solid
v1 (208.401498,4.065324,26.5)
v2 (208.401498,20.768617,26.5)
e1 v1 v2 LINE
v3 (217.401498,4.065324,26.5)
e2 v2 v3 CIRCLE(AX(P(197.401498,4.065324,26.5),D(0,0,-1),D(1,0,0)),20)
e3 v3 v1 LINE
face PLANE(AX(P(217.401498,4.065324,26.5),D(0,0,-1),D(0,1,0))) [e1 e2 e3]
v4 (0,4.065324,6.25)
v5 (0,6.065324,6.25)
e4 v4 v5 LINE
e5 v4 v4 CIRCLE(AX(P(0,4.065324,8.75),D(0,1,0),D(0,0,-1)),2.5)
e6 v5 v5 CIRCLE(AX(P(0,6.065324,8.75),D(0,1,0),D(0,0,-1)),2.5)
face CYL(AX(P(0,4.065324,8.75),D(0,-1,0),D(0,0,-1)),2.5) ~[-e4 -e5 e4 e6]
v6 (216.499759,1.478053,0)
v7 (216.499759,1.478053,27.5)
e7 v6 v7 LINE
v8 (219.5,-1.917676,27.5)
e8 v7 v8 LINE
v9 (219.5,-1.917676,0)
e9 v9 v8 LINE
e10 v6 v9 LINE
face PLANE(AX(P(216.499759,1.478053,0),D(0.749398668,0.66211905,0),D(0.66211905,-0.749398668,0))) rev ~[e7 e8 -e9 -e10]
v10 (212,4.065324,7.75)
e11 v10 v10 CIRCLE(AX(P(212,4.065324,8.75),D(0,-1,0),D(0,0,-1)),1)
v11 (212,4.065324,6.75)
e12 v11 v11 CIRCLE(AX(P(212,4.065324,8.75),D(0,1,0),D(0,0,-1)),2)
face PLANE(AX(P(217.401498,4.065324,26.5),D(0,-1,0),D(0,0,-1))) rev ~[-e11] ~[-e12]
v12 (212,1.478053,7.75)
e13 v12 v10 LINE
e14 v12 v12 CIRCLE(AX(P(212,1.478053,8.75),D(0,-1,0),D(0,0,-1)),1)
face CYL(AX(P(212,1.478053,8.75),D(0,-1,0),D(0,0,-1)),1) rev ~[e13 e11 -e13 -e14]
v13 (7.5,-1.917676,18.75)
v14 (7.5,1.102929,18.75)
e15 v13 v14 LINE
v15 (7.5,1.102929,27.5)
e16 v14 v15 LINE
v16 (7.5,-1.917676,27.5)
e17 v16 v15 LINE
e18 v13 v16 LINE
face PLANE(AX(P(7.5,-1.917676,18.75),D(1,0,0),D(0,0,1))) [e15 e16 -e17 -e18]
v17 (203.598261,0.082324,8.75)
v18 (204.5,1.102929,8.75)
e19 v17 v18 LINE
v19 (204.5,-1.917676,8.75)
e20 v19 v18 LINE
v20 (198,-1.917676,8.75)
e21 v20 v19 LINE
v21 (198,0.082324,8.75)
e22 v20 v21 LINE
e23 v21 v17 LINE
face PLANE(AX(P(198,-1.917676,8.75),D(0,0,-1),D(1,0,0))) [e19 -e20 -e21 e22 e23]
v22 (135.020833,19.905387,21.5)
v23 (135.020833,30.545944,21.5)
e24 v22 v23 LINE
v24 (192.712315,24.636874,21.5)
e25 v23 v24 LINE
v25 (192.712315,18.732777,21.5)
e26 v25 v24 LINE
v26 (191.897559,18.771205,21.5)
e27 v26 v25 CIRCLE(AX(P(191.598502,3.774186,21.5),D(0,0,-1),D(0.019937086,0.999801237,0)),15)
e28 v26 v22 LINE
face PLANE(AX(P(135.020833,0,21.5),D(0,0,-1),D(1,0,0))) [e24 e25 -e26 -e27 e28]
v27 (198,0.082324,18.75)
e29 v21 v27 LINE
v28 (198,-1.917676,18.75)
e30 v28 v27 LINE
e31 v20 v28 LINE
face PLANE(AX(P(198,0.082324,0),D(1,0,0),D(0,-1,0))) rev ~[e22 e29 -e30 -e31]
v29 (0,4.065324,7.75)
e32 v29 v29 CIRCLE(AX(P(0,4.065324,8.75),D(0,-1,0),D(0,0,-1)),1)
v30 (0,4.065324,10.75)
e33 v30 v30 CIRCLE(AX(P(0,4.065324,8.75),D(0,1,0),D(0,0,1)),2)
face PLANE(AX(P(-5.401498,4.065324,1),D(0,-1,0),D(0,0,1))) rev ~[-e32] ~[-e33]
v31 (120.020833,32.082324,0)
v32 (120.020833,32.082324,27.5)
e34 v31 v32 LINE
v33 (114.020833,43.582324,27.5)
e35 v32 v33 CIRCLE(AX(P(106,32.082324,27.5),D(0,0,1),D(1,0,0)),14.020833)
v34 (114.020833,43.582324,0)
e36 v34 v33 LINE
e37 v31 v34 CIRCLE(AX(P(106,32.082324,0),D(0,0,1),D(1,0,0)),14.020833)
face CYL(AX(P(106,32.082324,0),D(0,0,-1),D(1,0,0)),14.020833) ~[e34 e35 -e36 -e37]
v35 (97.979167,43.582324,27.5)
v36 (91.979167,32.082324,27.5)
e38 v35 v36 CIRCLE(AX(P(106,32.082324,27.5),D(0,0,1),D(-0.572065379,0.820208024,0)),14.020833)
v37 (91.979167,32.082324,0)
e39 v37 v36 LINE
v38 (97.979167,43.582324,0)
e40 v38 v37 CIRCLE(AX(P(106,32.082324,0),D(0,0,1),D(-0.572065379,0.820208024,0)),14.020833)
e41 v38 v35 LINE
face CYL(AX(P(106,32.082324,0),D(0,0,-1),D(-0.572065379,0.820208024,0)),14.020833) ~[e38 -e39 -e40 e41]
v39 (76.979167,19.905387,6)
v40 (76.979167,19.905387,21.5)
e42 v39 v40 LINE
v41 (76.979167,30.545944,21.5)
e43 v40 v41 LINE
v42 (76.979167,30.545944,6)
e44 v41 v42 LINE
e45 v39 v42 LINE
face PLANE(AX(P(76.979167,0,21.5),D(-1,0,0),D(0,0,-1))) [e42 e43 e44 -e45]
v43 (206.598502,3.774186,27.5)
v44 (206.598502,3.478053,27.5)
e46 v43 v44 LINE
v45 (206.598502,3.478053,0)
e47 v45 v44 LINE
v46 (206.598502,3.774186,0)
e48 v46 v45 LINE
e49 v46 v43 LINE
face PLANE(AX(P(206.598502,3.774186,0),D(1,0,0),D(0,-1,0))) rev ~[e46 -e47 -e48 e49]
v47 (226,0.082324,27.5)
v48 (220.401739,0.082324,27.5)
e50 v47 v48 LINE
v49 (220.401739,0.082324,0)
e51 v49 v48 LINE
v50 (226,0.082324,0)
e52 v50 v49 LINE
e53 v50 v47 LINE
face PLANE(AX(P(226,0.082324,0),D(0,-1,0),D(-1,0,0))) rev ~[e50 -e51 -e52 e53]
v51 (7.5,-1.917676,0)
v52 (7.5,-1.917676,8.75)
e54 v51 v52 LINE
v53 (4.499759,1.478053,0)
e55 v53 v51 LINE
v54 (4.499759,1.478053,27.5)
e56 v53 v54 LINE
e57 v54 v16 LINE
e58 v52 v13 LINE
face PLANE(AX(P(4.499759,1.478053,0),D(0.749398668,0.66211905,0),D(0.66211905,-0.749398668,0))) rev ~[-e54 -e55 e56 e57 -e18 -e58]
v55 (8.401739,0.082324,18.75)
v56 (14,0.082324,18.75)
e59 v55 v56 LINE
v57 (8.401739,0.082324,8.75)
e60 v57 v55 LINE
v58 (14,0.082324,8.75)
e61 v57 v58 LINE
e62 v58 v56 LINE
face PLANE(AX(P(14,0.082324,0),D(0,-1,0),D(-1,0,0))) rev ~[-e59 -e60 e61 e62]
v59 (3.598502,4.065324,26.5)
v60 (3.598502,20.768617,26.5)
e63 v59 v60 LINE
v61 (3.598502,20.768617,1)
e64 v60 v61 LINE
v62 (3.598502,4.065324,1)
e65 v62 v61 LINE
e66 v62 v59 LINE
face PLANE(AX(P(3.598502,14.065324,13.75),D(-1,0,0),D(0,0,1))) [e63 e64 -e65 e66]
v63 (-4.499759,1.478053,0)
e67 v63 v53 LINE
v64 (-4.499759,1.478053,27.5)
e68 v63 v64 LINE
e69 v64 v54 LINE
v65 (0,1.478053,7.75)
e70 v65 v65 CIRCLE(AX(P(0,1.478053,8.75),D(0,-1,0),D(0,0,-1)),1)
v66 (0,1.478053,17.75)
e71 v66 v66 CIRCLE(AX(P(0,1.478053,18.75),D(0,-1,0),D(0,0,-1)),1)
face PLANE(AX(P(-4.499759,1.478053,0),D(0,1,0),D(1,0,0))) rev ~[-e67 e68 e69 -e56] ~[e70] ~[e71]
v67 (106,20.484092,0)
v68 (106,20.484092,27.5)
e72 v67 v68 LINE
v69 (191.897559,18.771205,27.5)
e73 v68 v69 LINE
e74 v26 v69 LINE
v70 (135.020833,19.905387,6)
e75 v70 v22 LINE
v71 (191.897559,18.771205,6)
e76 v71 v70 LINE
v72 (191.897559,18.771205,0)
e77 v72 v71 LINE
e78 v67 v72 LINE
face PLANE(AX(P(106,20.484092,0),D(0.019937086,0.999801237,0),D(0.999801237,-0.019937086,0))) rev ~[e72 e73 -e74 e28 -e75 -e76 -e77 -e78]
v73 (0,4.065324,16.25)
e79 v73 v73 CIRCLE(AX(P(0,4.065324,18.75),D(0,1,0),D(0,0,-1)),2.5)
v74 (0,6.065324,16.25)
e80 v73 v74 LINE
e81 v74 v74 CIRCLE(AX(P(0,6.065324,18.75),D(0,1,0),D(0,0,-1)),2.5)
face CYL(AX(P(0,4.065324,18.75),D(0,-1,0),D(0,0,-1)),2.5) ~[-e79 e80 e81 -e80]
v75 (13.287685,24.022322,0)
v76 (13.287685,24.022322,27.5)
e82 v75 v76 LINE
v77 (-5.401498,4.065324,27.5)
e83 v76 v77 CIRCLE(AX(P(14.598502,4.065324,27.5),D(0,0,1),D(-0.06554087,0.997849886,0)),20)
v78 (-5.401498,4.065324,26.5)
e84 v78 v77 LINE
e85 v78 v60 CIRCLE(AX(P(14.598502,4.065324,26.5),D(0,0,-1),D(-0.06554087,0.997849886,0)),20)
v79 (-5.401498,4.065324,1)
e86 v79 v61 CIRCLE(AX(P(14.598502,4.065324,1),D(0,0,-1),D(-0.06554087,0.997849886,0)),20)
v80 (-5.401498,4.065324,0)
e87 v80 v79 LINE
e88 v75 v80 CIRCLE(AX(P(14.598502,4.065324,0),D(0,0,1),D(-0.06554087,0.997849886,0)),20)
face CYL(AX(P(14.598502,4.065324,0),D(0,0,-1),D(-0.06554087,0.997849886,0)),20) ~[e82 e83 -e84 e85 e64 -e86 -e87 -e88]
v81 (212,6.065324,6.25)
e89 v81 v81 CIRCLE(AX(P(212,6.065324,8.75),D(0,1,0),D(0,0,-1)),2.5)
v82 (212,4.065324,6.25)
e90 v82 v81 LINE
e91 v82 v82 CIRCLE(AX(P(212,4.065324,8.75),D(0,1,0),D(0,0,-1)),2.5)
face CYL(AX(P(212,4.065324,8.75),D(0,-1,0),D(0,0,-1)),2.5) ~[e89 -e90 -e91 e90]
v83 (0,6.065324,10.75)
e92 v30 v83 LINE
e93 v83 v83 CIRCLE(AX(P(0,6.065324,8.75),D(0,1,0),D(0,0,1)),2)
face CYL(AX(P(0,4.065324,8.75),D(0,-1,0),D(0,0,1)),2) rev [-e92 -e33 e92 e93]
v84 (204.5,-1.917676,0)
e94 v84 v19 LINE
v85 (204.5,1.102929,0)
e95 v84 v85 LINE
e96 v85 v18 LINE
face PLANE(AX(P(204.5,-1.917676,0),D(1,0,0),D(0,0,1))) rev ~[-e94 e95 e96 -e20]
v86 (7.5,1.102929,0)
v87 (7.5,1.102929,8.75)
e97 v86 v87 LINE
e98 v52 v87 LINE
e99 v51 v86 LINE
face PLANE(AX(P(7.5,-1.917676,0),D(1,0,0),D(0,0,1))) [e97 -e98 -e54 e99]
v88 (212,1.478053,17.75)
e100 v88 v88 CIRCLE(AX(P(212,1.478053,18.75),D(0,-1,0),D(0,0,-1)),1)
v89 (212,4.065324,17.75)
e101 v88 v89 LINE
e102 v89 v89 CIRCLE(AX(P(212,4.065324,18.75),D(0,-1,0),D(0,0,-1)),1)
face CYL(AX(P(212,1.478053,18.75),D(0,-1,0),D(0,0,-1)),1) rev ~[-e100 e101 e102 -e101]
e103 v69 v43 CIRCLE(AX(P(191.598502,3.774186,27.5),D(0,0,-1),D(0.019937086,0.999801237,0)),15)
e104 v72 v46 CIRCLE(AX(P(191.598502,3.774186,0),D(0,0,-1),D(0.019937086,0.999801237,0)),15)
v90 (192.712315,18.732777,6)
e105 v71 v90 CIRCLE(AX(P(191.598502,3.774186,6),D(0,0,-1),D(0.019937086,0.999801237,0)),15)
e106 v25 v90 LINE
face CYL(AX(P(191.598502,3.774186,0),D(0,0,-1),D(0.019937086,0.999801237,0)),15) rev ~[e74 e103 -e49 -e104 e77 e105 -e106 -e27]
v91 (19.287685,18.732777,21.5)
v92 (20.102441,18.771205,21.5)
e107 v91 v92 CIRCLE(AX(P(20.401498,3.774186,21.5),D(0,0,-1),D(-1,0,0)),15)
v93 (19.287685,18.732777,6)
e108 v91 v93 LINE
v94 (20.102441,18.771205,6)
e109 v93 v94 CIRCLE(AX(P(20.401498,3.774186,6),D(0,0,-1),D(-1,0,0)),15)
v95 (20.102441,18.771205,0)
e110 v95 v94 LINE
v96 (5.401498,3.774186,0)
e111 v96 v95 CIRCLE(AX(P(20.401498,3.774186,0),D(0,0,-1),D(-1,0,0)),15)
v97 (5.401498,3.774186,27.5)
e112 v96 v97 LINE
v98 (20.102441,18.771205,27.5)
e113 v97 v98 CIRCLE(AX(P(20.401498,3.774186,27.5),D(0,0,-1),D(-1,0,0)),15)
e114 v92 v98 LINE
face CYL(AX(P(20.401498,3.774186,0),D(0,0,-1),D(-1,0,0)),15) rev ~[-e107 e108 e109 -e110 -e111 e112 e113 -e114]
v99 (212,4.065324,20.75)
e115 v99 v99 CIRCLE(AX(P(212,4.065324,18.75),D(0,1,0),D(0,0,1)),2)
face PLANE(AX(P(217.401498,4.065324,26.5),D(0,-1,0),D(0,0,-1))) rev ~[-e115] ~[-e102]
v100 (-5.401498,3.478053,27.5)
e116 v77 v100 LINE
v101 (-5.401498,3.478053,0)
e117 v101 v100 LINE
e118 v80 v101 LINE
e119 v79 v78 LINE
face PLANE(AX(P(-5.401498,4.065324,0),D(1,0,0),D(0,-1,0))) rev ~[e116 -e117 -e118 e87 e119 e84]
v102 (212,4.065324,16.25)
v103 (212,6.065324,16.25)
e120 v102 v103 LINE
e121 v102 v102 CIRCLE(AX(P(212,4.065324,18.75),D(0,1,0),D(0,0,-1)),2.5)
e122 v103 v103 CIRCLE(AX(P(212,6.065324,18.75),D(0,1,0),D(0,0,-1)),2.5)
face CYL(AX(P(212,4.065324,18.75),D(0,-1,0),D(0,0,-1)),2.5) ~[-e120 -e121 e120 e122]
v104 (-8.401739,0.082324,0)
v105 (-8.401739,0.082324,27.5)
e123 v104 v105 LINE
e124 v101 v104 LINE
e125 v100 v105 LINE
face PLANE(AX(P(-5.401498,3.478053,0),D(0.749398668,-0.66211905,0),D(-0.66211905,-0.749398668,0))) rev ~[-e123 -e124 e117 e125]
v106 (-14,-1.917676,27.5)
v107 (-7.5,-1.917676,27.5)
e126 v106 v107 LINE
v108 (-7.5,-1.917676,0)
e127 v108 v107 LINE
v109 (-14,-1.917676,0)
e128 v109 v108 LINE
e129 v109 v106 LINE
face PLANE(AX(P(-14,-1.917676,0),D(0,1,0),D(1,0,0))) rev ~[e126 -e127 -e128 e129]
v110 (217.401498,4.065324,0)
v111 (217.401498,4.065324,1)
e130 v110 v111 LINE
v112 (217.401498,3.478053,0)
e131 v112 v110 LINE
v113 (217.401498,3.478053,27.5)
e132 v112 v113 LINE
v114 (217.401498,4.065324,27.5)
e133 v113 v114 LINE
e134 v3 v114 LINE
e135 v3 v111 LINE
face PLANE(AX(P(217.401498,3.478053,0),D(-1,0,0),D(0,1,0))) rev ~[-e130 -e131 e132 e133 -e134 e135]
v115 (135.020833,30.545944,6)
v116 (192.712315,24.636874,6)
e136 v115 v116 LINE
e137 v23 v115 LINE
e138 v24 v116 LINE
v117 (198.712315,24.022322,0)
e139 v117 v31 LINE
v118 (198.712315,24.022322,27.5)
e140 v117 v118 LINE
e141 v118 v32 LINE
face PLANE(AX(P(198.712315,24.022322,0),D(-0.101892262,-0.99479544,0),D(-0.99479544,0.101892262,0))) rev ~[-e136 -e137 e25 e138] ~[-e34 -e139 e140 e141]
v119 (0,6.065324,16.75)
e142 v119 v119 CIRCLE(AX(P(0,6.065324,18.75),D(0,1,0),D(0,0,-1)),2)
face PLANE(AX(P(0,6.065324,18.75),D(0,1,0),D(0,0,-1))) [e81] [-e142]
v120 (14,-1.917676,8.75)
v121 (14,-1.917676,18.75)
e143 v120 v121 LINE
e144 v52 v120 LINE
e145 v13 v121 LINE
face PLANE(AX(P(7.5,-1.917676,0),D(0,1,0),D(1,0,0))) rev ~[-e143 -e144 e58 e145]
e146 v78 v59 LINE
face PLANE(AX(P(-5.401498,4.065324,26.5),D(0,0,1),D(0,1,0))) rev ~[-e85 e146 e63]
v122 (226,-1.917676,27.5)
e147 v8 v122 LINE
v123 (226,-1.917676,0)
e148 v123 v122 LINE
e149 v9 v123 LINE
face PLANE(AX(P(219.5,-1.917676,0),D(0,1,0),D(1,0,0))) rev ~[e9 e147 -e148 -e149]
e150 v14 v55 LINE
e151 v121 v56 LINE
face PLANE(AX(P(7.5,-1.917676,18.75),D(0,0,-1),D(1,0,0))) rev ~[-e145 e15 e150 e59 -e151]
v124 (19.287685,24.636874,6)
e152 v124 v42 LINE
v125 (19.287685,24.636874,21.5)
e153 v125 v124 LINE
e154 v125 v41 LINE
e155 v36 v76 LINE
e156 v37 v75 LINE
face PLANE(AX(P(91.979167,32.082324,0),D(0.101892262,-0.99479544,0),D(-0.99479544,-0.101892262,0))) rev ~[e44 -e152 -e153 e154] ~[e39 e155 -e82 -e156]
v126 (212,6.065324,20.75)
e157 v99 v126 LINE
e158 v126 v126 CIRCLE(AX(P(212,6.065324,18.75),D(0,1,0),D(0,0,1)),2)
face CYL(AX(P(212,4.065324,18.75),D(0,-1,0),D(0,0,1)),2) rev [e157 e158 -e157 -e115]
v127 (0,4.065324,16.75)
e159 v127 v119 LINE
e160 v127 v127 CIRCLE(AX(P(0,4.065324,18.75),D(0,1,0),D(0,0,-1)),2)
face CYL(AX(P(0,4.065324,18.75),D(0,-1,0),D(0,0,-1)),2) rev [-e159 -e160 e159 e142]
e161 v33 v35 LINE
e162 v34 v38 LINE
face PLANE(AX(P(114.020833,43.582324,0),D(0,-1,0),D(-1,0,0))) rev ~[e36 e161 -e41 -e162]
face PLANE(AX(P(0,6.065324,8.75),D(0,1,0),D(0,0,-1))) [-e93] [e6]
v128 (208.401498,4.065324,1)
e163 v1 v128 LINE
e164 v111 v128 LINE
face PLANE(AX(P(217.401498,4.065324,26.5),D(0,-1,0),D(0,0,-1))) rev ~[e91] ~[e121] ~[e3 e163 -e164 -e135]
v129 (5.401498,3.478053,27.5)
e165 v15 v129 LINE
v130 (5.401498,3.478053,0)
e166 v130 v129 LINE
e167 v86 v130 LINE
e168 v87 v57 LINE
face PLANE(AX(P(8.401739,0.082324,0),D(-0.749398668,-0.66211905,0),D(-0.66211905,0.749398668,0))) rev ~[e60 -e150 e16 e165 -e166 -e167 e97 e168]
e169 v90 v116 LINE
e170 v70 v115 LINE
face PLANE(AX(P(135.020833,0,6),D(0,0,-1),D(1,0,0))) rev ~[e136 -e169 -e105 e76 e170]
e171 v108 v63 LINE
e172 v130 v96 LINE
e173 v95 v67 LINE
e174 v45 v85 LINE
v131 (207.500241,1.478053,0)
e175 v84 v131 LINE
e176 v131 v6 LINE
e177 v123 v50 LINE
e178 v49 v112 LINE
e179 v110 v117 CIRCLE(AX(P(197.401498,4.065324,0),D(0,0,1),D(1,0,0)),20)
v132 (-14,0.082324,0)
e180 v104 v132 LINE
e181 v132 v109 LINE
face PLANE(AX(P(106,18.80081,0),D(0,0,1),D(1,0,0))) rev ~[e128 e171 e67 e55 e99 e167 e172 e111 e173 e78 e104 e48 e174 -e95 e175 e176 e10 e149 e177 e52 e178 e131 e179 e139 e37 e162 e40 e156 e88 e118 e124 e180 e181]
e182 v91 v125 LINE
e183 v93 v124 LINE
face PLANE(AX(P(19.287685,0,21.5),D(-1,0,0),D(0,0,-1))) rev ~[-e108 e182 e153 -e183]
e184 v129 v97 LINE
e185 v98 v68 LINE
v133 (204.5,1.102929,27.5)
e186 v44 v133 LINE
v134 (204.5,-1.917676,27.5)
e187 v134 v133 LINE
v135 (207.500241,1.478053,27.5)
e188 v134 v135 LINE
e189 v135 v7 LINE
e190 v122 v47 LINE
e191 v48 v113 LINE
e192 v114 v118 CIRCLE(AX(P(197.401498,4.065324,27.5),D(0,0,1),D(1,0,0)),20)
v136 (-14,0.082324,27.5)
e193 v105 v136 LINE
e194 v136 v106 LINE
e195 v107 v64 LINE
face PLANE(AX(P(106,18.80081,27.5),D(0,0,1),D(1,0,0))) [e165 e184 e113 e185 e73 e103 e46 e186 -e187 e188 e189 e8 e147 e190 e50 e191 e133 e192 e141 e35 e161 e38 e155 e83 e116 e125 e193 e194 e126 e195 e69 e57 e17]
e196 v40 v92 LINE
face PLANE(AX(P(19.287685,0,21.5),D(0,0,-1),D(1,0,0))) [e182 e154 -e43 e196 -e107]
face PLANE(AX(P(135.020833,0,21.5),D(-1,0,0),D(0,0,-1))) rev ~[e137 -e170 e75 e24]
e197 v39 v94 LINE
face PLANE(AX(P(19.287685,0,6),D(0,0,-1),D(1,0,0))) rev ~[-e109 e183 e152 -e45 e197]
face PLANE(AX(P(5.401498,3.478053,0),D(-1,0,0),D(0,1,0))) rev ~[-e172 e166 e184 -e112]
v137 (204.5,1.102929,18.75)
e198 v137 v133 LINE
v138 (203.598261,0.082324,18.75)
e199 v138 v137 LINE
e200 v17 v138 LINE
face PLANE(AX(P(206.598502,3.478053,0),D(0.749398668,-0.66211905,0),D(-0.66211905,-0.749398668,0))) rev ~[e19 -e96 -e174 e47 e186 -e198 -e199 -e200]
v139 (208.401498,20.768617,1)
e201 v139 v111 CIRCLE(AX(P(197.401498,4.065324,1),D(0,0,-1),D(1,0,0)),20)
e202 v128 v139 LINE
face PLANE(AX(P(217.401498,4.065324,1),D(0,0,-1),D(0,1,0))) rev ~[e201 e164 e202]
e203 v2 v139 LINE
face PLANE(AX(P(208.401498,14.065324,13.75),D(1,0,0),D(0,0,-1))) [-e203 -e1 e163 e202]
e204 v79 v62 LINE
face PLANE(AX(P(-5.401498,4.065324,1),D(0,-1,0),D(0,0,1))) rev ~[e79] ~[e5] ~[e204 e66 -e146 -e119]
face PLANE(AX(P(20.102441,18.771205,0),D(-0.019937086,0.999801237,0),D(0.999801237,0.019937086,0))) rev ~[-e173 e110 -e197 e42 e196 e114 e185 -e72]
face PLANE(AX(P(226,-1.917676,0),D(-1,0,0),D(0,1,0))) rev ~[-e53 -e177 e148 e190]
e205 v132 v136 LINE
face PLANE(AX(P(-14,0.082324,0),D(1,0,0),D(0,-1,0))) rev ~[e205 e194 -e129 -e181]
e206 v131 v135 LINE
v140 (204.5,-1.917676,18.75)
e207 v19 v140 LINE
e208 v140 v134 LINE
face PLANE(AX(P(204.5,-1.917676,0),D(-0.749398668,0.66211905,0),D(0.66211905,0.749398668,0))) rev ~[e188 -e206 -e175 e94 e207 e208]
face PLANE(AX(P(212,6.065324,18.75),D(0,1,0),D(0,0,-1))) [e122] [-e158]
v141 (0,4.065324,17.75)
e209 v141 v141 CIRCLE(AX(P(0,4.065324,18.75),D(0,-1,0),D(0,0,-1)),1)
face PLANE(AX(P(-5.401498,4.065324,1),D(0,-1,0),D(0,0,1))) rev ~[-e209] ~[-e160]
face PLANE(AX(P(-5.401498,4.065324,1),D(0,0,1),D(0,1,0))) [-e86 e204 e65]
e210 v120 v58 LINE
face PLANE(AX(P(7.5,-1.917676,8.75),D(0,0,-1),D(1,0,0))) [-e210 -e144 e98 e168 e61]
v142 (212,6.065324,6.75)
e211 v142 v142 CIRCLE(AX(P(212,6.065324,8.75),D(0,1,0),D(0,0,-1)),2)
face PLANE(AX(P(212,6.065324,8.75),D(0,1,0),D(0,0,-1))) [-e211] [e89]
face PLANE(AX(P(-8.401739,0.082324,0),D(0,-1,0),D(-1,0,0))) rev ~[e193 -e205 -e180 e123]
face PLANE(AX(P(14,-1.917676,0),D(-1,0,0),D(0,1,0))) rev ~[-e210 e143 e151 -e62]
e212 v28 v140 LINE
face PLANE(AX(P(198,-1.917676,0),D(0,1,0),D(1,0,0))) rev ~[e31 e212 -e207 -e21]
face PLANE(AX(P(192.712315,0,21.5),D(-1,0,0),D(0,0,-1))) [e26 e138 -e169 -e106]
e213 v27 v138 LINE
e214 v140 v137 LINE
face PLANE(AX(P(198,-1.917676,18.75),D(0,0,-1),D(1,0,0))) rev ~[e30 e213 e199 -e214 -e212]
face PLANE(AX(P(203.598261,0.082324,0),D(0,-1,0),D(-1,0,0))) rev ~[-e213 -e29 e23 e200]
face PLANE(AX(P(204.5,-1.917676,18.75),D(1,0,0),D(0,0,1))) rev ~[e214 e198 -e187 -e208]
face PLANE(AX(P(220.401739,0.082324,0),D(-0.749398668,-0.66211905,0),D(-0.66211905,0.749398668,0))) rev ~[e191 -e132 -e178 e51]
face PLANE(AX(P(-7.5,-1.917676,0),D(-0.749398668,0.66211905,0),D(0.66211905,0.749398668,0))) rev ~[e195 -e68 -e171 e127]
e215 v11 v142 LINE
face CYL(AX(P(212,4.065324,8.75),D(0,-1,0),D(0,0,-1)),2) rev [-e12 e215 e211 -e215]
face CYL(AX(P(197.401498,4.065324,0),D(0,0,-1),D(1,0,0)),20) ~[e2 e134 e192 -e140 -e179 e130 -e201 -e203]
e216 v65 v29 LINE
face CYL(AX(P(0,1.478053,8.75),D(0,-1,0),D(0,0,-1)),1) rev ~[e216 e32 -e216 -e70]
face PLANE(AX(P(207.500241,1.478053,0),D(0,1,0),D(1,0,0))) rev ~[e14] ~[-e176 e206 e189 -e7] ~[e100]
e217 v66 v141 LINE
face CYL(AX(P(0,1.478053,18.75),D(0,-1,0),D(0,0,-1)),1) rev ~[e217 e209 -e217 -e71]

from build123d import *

# Parameters (mm, degrees)
BOSS_EXTRUDE1_DEPTH = 27.5
SKETCH3_W           = 6.5
SKETCH3_H           = 8.75
CUT_EXTRUDE1_DEPTH  = 5
SKETCH5_R           = 1
CUT_EXTRUDE2_DEPTH  = 232.527578609
SKETCH6_W           = 25.5
SKETCH6_H           = 20
CUT_EXTRUDE3_DEPTH  = 9
SKETCH7_W           = 25.5
SKETCH7_H           = 20
CUT_EXTRUDE4_DEPTH  = 9
SKETCH8_R           = 2.5
SKETCH8_R_2         = 2
BOSS_EXTRUDE2_DEPTH = 2
SKETCH10_W          = 57.691481813
SKETCH10_H          = 15.5
CUT_EXTRUDE5_DEPTH  = 232.800925283


with BuildPart() as part:
    # Sketch1 → Boss-Extrude1 (new body)
    with BuildSketch(Plane.XY):
        with BuildLine():
            Line((-4.499758881, 1.478052726), (0, 1.478052726))
            Line((0, 1.478052726), (4.499758881, 1.478052726))
            Line((4.499758881, 1.478052726), (7.5, -1.917676035))
            Line((7.5, -1.917676035), (14, -1.917676035))
            Line((14, -1.917676035), (14, 0.082323965))
            Line((14, 0.082323965), (8.40173886, 0.082323965))
            Line((8.40173886, 0.082323965), (5.401497741, 3.478052726))
            Line((5.401497741, 3.478052726), (5.401497741, 3.774186429))
            ThreePointArc((5.401497741, 3.774186429), (9.689685466, 14.274523461), (20.102441447, 18.771204977))
            Line((20.102441447, 18.771204977), (106, 20.484092471))
            Line((106, 20.484092471), (191.897558553, 18.771204977))
            ThreePointArc((191.897558553, 18.771204977), (202.310314534, 14.274523461), (206.598502259, 3.774186429))
            Line((206.598502259, 3.774186429), (206.598502259, 3.478052726))
            Line((206.598502259, 3.478052726), (203.59826114, 0.082323965))
            Line((203.59826114, 0.082323965), (198, 0.082323965))
            Line((198, 0.082323965), (198, -1.917676035))
            Line((198, -1.917676035), (204.5, -1.917676035))
            Line((204.5, -1.917676035), (207.500241119, 1.478052726))
            Line((207.500241119, 1.478052726), (212, 1.478052726))
            Line((212, 1.478052726), (216.499758881, 1.478052726))
            Line((216.499758881, 1.478052726), (219.5, -1.917676035))
            Line((219.5, -1.917676035), (226, -1.917676035))
            Line((226, -1.917676035), (226, 0.082323965))
            Line((226, 0.082323965), (220.40173886, 0.082323965))
            Line((220.40173886, 0.082323965), (217.401497741, 3.478052726))
            Line((217.401497741, 3.478052726), (217.401497741, 4.065324402))
            ThreePointArc((217.401497741, 4.065324402), (211.999722772, 17.736162927), (198.712315146, 24.022322116))
            Line((198.712315146, 24.022322116), (120.020833333, 32.082323965))
            ThreePointArc((120.020833333, 32.082323965), (118.430658364, 38.567884851), (114.020833333, 43.582323965))
            Line((114.020833333, 43.582323965), (97.979166667, 43.582323965))
            ThreePointArc((97.979166667, 43.582323965), (93.569341636, 38.567884851), (91.979166667, 32.082323965))
            Line((91.979166667, 32.082323965), (13.287684854, 24.022322116))
            ThreePointArc((13.287684854, 24.022322116), (0.000277228, 17.736162927), (-5.401497741, 4.065324402))
            Line((-5.401497741, 4.065324402), (-5.401497741, 3.478052726))
            Line((-5.401497741, 3.478052726), (-8.40173886, 0.082323965))
            Line((-8.40173886, 0.082323965), (-14, 0.082323965))
            Line((-14, 0.082323965), (-14, -1.917676035))
            Line((-14, -1.917676035), (-7.5, -1.917676035))
            Line((-7.5, -1.917676035), (-4.499758881, 1.478052726))
        make_face()
    extrude(amount=BOSS_EXTRUDE1_DEPTH)

    # Sketch3 → Cut-Extrude1 (cut)
    with BuildSketch(Plane.XZ.offset(1.917676035)):
        with Locations((10.75, 23.125)):
            Rectangle(SKETCH3_W, SKETCH3_H)
        with Locations((10.75, 4.375)):
            Rectangle(SKETCH3_W, SKETCH3_H)
        with Locations((201.25, 4.375)):
            Rectangle(SKETCH3_W, SKETCH3_H)
        with Locations((201.25, 23.125)):
            Rectangle(SKETCH3_W, SKETCH3_H)
    extrude(amount=-CUT_EXTRUDE1_DEPTH, mode=Mode.SUBTRACT)

    # Sketch5 → Cut-Extrude2 (cut, through all)
    with BuildSketch(Plane.XZ.offset(-1.478052726)):
        with Locations(Location((0, 18.75, 0), (0, 0, 270))):
            Circle(SKETCH5_R)
        with Locations(Location((0, 8.75, 0), (0, 0, 270))):
            Circle(SKETCH5_R)
        with Locations(Location((212, 8.75, 0), (0, 0, 270))):
            Circle(SKETCH5_R)
        with Locations(Location((212, 18.75, 0), (0, 0, 270))):
            Circle(SKETCH5_R)
    extrude(amount=-CUT_EXTRUDE2_DEPTH, mode=Mode.SUBTRACT)

    # Sketch6 → Cut-Extrude3 (cut)
    with BuildSketch(Plane.ZY.offset(5.401497741)):
        with Locations((13.75, 14.065324402)):
            Rectangle(SKETCH6_W, SKETCH6_H)
    extrude(amount=-CUT_EXTRUDE3_DEPTH, mode=Mode.SUBTRACT)

    # Sketch7 → Cut-Extrude4 (cut)
    with BuildSketch(Plane(origin=(217.401497741, 0, 0), x_dir=(0, 0, -1), z_dir=(1, 0, 0))):
        with Locations((-13.75, 14.065324402)):
            Rectangle(SKETCH7_W, SKETCH7_H)
    extrude(amount=-CUT_EXTRUDE4_DEPTH, mode=Mode.SUBTRACT)

    # Sketch8 → Boss-Extrude2 (add)
    # profile 1 of 4: a face of its own
    with BuildSketch(Plane(origin=(0, 4.065324402, 0), x_dir=(1, 0, 0), z_dir=(0, 1, 0))):
        with Locations(Location((0, -8.75, 0), (0, 0, 90))):
            Circle(SKETCH8_R)
        with Locations(Location((0, -8.75, 0), (0, 0, 270))):
            Circle(SKETCH8_R_2, mode=Mode.SUBTRACT)
    # profile 2 of 4: a face of its own
    with BuildSketch(Plane(origin=(0, 4.065324402, 0), x_dir=(1, 0, 0), z_dir=(0, 1, 0))):
        with Locations(Location((0, -18.75, 0), (0, 0, 90))):
            Circle(SKETCH8_R)
        with Locations(Location((0, -18.75, 0), (0, 0, 90))):
            Circle(SKETCH8_R_2, mode=Mode.SUBTRACT)
    # profile 3 of 4: a face of its own
    with BuildSketch(Plane(origin=(0, 4.065324402, 0), x_dir=(1, 0, 0), z_dir=(0, 1, 0))):
        with Locations(Location((212, -18.75, 0), (0, 0, 90))):
            Circle(SKETCH8_R)
        with Locations(Location((212, -18.75, 0), (0, 0, 270))):
            Circle(SKETCH8_R_2, mode=Mode.SUBTRACT)
    # profile 4 of 4: a face of its own
    with BuildSketch(Plane(origin=(0, 4.065324402, 0), x_dir=(1, 0, 0), z_dir=(0, 1, 0))):
        with Locations(Location((212, -8.75, 0), (0, 0, 90))):
            Circle(SKETCH8_R)
        with Locations(Location((212, -8.75, 0), (0, 0, 90))):
            Circle(SKETCH8_R_2, mode=Mode.SUBTRACT)
    extrude(amount=BOSS_EXTRUDE2_DEPTH)

    # Sketch10 → Cut-Extrude5 (cut, through all)
    with BuildSketch(Plane(origin=(0, 0, 0), x_dir=(1, 0, 0), z_dir=(0, 1, 0))):
        with Locations((163.86657424, -13.75)):
            Rectangle(SKETCH10_W, SKETCH10_H)
        with Locations((48.133425761, -13.75)):
            Rectangle(SKETCH10_W, SKETCH10_H)
    extrude(amount=CUT_EXTRUDE5_DEPTH, mode=Mode.SUBTRACT)


solid = part.part
